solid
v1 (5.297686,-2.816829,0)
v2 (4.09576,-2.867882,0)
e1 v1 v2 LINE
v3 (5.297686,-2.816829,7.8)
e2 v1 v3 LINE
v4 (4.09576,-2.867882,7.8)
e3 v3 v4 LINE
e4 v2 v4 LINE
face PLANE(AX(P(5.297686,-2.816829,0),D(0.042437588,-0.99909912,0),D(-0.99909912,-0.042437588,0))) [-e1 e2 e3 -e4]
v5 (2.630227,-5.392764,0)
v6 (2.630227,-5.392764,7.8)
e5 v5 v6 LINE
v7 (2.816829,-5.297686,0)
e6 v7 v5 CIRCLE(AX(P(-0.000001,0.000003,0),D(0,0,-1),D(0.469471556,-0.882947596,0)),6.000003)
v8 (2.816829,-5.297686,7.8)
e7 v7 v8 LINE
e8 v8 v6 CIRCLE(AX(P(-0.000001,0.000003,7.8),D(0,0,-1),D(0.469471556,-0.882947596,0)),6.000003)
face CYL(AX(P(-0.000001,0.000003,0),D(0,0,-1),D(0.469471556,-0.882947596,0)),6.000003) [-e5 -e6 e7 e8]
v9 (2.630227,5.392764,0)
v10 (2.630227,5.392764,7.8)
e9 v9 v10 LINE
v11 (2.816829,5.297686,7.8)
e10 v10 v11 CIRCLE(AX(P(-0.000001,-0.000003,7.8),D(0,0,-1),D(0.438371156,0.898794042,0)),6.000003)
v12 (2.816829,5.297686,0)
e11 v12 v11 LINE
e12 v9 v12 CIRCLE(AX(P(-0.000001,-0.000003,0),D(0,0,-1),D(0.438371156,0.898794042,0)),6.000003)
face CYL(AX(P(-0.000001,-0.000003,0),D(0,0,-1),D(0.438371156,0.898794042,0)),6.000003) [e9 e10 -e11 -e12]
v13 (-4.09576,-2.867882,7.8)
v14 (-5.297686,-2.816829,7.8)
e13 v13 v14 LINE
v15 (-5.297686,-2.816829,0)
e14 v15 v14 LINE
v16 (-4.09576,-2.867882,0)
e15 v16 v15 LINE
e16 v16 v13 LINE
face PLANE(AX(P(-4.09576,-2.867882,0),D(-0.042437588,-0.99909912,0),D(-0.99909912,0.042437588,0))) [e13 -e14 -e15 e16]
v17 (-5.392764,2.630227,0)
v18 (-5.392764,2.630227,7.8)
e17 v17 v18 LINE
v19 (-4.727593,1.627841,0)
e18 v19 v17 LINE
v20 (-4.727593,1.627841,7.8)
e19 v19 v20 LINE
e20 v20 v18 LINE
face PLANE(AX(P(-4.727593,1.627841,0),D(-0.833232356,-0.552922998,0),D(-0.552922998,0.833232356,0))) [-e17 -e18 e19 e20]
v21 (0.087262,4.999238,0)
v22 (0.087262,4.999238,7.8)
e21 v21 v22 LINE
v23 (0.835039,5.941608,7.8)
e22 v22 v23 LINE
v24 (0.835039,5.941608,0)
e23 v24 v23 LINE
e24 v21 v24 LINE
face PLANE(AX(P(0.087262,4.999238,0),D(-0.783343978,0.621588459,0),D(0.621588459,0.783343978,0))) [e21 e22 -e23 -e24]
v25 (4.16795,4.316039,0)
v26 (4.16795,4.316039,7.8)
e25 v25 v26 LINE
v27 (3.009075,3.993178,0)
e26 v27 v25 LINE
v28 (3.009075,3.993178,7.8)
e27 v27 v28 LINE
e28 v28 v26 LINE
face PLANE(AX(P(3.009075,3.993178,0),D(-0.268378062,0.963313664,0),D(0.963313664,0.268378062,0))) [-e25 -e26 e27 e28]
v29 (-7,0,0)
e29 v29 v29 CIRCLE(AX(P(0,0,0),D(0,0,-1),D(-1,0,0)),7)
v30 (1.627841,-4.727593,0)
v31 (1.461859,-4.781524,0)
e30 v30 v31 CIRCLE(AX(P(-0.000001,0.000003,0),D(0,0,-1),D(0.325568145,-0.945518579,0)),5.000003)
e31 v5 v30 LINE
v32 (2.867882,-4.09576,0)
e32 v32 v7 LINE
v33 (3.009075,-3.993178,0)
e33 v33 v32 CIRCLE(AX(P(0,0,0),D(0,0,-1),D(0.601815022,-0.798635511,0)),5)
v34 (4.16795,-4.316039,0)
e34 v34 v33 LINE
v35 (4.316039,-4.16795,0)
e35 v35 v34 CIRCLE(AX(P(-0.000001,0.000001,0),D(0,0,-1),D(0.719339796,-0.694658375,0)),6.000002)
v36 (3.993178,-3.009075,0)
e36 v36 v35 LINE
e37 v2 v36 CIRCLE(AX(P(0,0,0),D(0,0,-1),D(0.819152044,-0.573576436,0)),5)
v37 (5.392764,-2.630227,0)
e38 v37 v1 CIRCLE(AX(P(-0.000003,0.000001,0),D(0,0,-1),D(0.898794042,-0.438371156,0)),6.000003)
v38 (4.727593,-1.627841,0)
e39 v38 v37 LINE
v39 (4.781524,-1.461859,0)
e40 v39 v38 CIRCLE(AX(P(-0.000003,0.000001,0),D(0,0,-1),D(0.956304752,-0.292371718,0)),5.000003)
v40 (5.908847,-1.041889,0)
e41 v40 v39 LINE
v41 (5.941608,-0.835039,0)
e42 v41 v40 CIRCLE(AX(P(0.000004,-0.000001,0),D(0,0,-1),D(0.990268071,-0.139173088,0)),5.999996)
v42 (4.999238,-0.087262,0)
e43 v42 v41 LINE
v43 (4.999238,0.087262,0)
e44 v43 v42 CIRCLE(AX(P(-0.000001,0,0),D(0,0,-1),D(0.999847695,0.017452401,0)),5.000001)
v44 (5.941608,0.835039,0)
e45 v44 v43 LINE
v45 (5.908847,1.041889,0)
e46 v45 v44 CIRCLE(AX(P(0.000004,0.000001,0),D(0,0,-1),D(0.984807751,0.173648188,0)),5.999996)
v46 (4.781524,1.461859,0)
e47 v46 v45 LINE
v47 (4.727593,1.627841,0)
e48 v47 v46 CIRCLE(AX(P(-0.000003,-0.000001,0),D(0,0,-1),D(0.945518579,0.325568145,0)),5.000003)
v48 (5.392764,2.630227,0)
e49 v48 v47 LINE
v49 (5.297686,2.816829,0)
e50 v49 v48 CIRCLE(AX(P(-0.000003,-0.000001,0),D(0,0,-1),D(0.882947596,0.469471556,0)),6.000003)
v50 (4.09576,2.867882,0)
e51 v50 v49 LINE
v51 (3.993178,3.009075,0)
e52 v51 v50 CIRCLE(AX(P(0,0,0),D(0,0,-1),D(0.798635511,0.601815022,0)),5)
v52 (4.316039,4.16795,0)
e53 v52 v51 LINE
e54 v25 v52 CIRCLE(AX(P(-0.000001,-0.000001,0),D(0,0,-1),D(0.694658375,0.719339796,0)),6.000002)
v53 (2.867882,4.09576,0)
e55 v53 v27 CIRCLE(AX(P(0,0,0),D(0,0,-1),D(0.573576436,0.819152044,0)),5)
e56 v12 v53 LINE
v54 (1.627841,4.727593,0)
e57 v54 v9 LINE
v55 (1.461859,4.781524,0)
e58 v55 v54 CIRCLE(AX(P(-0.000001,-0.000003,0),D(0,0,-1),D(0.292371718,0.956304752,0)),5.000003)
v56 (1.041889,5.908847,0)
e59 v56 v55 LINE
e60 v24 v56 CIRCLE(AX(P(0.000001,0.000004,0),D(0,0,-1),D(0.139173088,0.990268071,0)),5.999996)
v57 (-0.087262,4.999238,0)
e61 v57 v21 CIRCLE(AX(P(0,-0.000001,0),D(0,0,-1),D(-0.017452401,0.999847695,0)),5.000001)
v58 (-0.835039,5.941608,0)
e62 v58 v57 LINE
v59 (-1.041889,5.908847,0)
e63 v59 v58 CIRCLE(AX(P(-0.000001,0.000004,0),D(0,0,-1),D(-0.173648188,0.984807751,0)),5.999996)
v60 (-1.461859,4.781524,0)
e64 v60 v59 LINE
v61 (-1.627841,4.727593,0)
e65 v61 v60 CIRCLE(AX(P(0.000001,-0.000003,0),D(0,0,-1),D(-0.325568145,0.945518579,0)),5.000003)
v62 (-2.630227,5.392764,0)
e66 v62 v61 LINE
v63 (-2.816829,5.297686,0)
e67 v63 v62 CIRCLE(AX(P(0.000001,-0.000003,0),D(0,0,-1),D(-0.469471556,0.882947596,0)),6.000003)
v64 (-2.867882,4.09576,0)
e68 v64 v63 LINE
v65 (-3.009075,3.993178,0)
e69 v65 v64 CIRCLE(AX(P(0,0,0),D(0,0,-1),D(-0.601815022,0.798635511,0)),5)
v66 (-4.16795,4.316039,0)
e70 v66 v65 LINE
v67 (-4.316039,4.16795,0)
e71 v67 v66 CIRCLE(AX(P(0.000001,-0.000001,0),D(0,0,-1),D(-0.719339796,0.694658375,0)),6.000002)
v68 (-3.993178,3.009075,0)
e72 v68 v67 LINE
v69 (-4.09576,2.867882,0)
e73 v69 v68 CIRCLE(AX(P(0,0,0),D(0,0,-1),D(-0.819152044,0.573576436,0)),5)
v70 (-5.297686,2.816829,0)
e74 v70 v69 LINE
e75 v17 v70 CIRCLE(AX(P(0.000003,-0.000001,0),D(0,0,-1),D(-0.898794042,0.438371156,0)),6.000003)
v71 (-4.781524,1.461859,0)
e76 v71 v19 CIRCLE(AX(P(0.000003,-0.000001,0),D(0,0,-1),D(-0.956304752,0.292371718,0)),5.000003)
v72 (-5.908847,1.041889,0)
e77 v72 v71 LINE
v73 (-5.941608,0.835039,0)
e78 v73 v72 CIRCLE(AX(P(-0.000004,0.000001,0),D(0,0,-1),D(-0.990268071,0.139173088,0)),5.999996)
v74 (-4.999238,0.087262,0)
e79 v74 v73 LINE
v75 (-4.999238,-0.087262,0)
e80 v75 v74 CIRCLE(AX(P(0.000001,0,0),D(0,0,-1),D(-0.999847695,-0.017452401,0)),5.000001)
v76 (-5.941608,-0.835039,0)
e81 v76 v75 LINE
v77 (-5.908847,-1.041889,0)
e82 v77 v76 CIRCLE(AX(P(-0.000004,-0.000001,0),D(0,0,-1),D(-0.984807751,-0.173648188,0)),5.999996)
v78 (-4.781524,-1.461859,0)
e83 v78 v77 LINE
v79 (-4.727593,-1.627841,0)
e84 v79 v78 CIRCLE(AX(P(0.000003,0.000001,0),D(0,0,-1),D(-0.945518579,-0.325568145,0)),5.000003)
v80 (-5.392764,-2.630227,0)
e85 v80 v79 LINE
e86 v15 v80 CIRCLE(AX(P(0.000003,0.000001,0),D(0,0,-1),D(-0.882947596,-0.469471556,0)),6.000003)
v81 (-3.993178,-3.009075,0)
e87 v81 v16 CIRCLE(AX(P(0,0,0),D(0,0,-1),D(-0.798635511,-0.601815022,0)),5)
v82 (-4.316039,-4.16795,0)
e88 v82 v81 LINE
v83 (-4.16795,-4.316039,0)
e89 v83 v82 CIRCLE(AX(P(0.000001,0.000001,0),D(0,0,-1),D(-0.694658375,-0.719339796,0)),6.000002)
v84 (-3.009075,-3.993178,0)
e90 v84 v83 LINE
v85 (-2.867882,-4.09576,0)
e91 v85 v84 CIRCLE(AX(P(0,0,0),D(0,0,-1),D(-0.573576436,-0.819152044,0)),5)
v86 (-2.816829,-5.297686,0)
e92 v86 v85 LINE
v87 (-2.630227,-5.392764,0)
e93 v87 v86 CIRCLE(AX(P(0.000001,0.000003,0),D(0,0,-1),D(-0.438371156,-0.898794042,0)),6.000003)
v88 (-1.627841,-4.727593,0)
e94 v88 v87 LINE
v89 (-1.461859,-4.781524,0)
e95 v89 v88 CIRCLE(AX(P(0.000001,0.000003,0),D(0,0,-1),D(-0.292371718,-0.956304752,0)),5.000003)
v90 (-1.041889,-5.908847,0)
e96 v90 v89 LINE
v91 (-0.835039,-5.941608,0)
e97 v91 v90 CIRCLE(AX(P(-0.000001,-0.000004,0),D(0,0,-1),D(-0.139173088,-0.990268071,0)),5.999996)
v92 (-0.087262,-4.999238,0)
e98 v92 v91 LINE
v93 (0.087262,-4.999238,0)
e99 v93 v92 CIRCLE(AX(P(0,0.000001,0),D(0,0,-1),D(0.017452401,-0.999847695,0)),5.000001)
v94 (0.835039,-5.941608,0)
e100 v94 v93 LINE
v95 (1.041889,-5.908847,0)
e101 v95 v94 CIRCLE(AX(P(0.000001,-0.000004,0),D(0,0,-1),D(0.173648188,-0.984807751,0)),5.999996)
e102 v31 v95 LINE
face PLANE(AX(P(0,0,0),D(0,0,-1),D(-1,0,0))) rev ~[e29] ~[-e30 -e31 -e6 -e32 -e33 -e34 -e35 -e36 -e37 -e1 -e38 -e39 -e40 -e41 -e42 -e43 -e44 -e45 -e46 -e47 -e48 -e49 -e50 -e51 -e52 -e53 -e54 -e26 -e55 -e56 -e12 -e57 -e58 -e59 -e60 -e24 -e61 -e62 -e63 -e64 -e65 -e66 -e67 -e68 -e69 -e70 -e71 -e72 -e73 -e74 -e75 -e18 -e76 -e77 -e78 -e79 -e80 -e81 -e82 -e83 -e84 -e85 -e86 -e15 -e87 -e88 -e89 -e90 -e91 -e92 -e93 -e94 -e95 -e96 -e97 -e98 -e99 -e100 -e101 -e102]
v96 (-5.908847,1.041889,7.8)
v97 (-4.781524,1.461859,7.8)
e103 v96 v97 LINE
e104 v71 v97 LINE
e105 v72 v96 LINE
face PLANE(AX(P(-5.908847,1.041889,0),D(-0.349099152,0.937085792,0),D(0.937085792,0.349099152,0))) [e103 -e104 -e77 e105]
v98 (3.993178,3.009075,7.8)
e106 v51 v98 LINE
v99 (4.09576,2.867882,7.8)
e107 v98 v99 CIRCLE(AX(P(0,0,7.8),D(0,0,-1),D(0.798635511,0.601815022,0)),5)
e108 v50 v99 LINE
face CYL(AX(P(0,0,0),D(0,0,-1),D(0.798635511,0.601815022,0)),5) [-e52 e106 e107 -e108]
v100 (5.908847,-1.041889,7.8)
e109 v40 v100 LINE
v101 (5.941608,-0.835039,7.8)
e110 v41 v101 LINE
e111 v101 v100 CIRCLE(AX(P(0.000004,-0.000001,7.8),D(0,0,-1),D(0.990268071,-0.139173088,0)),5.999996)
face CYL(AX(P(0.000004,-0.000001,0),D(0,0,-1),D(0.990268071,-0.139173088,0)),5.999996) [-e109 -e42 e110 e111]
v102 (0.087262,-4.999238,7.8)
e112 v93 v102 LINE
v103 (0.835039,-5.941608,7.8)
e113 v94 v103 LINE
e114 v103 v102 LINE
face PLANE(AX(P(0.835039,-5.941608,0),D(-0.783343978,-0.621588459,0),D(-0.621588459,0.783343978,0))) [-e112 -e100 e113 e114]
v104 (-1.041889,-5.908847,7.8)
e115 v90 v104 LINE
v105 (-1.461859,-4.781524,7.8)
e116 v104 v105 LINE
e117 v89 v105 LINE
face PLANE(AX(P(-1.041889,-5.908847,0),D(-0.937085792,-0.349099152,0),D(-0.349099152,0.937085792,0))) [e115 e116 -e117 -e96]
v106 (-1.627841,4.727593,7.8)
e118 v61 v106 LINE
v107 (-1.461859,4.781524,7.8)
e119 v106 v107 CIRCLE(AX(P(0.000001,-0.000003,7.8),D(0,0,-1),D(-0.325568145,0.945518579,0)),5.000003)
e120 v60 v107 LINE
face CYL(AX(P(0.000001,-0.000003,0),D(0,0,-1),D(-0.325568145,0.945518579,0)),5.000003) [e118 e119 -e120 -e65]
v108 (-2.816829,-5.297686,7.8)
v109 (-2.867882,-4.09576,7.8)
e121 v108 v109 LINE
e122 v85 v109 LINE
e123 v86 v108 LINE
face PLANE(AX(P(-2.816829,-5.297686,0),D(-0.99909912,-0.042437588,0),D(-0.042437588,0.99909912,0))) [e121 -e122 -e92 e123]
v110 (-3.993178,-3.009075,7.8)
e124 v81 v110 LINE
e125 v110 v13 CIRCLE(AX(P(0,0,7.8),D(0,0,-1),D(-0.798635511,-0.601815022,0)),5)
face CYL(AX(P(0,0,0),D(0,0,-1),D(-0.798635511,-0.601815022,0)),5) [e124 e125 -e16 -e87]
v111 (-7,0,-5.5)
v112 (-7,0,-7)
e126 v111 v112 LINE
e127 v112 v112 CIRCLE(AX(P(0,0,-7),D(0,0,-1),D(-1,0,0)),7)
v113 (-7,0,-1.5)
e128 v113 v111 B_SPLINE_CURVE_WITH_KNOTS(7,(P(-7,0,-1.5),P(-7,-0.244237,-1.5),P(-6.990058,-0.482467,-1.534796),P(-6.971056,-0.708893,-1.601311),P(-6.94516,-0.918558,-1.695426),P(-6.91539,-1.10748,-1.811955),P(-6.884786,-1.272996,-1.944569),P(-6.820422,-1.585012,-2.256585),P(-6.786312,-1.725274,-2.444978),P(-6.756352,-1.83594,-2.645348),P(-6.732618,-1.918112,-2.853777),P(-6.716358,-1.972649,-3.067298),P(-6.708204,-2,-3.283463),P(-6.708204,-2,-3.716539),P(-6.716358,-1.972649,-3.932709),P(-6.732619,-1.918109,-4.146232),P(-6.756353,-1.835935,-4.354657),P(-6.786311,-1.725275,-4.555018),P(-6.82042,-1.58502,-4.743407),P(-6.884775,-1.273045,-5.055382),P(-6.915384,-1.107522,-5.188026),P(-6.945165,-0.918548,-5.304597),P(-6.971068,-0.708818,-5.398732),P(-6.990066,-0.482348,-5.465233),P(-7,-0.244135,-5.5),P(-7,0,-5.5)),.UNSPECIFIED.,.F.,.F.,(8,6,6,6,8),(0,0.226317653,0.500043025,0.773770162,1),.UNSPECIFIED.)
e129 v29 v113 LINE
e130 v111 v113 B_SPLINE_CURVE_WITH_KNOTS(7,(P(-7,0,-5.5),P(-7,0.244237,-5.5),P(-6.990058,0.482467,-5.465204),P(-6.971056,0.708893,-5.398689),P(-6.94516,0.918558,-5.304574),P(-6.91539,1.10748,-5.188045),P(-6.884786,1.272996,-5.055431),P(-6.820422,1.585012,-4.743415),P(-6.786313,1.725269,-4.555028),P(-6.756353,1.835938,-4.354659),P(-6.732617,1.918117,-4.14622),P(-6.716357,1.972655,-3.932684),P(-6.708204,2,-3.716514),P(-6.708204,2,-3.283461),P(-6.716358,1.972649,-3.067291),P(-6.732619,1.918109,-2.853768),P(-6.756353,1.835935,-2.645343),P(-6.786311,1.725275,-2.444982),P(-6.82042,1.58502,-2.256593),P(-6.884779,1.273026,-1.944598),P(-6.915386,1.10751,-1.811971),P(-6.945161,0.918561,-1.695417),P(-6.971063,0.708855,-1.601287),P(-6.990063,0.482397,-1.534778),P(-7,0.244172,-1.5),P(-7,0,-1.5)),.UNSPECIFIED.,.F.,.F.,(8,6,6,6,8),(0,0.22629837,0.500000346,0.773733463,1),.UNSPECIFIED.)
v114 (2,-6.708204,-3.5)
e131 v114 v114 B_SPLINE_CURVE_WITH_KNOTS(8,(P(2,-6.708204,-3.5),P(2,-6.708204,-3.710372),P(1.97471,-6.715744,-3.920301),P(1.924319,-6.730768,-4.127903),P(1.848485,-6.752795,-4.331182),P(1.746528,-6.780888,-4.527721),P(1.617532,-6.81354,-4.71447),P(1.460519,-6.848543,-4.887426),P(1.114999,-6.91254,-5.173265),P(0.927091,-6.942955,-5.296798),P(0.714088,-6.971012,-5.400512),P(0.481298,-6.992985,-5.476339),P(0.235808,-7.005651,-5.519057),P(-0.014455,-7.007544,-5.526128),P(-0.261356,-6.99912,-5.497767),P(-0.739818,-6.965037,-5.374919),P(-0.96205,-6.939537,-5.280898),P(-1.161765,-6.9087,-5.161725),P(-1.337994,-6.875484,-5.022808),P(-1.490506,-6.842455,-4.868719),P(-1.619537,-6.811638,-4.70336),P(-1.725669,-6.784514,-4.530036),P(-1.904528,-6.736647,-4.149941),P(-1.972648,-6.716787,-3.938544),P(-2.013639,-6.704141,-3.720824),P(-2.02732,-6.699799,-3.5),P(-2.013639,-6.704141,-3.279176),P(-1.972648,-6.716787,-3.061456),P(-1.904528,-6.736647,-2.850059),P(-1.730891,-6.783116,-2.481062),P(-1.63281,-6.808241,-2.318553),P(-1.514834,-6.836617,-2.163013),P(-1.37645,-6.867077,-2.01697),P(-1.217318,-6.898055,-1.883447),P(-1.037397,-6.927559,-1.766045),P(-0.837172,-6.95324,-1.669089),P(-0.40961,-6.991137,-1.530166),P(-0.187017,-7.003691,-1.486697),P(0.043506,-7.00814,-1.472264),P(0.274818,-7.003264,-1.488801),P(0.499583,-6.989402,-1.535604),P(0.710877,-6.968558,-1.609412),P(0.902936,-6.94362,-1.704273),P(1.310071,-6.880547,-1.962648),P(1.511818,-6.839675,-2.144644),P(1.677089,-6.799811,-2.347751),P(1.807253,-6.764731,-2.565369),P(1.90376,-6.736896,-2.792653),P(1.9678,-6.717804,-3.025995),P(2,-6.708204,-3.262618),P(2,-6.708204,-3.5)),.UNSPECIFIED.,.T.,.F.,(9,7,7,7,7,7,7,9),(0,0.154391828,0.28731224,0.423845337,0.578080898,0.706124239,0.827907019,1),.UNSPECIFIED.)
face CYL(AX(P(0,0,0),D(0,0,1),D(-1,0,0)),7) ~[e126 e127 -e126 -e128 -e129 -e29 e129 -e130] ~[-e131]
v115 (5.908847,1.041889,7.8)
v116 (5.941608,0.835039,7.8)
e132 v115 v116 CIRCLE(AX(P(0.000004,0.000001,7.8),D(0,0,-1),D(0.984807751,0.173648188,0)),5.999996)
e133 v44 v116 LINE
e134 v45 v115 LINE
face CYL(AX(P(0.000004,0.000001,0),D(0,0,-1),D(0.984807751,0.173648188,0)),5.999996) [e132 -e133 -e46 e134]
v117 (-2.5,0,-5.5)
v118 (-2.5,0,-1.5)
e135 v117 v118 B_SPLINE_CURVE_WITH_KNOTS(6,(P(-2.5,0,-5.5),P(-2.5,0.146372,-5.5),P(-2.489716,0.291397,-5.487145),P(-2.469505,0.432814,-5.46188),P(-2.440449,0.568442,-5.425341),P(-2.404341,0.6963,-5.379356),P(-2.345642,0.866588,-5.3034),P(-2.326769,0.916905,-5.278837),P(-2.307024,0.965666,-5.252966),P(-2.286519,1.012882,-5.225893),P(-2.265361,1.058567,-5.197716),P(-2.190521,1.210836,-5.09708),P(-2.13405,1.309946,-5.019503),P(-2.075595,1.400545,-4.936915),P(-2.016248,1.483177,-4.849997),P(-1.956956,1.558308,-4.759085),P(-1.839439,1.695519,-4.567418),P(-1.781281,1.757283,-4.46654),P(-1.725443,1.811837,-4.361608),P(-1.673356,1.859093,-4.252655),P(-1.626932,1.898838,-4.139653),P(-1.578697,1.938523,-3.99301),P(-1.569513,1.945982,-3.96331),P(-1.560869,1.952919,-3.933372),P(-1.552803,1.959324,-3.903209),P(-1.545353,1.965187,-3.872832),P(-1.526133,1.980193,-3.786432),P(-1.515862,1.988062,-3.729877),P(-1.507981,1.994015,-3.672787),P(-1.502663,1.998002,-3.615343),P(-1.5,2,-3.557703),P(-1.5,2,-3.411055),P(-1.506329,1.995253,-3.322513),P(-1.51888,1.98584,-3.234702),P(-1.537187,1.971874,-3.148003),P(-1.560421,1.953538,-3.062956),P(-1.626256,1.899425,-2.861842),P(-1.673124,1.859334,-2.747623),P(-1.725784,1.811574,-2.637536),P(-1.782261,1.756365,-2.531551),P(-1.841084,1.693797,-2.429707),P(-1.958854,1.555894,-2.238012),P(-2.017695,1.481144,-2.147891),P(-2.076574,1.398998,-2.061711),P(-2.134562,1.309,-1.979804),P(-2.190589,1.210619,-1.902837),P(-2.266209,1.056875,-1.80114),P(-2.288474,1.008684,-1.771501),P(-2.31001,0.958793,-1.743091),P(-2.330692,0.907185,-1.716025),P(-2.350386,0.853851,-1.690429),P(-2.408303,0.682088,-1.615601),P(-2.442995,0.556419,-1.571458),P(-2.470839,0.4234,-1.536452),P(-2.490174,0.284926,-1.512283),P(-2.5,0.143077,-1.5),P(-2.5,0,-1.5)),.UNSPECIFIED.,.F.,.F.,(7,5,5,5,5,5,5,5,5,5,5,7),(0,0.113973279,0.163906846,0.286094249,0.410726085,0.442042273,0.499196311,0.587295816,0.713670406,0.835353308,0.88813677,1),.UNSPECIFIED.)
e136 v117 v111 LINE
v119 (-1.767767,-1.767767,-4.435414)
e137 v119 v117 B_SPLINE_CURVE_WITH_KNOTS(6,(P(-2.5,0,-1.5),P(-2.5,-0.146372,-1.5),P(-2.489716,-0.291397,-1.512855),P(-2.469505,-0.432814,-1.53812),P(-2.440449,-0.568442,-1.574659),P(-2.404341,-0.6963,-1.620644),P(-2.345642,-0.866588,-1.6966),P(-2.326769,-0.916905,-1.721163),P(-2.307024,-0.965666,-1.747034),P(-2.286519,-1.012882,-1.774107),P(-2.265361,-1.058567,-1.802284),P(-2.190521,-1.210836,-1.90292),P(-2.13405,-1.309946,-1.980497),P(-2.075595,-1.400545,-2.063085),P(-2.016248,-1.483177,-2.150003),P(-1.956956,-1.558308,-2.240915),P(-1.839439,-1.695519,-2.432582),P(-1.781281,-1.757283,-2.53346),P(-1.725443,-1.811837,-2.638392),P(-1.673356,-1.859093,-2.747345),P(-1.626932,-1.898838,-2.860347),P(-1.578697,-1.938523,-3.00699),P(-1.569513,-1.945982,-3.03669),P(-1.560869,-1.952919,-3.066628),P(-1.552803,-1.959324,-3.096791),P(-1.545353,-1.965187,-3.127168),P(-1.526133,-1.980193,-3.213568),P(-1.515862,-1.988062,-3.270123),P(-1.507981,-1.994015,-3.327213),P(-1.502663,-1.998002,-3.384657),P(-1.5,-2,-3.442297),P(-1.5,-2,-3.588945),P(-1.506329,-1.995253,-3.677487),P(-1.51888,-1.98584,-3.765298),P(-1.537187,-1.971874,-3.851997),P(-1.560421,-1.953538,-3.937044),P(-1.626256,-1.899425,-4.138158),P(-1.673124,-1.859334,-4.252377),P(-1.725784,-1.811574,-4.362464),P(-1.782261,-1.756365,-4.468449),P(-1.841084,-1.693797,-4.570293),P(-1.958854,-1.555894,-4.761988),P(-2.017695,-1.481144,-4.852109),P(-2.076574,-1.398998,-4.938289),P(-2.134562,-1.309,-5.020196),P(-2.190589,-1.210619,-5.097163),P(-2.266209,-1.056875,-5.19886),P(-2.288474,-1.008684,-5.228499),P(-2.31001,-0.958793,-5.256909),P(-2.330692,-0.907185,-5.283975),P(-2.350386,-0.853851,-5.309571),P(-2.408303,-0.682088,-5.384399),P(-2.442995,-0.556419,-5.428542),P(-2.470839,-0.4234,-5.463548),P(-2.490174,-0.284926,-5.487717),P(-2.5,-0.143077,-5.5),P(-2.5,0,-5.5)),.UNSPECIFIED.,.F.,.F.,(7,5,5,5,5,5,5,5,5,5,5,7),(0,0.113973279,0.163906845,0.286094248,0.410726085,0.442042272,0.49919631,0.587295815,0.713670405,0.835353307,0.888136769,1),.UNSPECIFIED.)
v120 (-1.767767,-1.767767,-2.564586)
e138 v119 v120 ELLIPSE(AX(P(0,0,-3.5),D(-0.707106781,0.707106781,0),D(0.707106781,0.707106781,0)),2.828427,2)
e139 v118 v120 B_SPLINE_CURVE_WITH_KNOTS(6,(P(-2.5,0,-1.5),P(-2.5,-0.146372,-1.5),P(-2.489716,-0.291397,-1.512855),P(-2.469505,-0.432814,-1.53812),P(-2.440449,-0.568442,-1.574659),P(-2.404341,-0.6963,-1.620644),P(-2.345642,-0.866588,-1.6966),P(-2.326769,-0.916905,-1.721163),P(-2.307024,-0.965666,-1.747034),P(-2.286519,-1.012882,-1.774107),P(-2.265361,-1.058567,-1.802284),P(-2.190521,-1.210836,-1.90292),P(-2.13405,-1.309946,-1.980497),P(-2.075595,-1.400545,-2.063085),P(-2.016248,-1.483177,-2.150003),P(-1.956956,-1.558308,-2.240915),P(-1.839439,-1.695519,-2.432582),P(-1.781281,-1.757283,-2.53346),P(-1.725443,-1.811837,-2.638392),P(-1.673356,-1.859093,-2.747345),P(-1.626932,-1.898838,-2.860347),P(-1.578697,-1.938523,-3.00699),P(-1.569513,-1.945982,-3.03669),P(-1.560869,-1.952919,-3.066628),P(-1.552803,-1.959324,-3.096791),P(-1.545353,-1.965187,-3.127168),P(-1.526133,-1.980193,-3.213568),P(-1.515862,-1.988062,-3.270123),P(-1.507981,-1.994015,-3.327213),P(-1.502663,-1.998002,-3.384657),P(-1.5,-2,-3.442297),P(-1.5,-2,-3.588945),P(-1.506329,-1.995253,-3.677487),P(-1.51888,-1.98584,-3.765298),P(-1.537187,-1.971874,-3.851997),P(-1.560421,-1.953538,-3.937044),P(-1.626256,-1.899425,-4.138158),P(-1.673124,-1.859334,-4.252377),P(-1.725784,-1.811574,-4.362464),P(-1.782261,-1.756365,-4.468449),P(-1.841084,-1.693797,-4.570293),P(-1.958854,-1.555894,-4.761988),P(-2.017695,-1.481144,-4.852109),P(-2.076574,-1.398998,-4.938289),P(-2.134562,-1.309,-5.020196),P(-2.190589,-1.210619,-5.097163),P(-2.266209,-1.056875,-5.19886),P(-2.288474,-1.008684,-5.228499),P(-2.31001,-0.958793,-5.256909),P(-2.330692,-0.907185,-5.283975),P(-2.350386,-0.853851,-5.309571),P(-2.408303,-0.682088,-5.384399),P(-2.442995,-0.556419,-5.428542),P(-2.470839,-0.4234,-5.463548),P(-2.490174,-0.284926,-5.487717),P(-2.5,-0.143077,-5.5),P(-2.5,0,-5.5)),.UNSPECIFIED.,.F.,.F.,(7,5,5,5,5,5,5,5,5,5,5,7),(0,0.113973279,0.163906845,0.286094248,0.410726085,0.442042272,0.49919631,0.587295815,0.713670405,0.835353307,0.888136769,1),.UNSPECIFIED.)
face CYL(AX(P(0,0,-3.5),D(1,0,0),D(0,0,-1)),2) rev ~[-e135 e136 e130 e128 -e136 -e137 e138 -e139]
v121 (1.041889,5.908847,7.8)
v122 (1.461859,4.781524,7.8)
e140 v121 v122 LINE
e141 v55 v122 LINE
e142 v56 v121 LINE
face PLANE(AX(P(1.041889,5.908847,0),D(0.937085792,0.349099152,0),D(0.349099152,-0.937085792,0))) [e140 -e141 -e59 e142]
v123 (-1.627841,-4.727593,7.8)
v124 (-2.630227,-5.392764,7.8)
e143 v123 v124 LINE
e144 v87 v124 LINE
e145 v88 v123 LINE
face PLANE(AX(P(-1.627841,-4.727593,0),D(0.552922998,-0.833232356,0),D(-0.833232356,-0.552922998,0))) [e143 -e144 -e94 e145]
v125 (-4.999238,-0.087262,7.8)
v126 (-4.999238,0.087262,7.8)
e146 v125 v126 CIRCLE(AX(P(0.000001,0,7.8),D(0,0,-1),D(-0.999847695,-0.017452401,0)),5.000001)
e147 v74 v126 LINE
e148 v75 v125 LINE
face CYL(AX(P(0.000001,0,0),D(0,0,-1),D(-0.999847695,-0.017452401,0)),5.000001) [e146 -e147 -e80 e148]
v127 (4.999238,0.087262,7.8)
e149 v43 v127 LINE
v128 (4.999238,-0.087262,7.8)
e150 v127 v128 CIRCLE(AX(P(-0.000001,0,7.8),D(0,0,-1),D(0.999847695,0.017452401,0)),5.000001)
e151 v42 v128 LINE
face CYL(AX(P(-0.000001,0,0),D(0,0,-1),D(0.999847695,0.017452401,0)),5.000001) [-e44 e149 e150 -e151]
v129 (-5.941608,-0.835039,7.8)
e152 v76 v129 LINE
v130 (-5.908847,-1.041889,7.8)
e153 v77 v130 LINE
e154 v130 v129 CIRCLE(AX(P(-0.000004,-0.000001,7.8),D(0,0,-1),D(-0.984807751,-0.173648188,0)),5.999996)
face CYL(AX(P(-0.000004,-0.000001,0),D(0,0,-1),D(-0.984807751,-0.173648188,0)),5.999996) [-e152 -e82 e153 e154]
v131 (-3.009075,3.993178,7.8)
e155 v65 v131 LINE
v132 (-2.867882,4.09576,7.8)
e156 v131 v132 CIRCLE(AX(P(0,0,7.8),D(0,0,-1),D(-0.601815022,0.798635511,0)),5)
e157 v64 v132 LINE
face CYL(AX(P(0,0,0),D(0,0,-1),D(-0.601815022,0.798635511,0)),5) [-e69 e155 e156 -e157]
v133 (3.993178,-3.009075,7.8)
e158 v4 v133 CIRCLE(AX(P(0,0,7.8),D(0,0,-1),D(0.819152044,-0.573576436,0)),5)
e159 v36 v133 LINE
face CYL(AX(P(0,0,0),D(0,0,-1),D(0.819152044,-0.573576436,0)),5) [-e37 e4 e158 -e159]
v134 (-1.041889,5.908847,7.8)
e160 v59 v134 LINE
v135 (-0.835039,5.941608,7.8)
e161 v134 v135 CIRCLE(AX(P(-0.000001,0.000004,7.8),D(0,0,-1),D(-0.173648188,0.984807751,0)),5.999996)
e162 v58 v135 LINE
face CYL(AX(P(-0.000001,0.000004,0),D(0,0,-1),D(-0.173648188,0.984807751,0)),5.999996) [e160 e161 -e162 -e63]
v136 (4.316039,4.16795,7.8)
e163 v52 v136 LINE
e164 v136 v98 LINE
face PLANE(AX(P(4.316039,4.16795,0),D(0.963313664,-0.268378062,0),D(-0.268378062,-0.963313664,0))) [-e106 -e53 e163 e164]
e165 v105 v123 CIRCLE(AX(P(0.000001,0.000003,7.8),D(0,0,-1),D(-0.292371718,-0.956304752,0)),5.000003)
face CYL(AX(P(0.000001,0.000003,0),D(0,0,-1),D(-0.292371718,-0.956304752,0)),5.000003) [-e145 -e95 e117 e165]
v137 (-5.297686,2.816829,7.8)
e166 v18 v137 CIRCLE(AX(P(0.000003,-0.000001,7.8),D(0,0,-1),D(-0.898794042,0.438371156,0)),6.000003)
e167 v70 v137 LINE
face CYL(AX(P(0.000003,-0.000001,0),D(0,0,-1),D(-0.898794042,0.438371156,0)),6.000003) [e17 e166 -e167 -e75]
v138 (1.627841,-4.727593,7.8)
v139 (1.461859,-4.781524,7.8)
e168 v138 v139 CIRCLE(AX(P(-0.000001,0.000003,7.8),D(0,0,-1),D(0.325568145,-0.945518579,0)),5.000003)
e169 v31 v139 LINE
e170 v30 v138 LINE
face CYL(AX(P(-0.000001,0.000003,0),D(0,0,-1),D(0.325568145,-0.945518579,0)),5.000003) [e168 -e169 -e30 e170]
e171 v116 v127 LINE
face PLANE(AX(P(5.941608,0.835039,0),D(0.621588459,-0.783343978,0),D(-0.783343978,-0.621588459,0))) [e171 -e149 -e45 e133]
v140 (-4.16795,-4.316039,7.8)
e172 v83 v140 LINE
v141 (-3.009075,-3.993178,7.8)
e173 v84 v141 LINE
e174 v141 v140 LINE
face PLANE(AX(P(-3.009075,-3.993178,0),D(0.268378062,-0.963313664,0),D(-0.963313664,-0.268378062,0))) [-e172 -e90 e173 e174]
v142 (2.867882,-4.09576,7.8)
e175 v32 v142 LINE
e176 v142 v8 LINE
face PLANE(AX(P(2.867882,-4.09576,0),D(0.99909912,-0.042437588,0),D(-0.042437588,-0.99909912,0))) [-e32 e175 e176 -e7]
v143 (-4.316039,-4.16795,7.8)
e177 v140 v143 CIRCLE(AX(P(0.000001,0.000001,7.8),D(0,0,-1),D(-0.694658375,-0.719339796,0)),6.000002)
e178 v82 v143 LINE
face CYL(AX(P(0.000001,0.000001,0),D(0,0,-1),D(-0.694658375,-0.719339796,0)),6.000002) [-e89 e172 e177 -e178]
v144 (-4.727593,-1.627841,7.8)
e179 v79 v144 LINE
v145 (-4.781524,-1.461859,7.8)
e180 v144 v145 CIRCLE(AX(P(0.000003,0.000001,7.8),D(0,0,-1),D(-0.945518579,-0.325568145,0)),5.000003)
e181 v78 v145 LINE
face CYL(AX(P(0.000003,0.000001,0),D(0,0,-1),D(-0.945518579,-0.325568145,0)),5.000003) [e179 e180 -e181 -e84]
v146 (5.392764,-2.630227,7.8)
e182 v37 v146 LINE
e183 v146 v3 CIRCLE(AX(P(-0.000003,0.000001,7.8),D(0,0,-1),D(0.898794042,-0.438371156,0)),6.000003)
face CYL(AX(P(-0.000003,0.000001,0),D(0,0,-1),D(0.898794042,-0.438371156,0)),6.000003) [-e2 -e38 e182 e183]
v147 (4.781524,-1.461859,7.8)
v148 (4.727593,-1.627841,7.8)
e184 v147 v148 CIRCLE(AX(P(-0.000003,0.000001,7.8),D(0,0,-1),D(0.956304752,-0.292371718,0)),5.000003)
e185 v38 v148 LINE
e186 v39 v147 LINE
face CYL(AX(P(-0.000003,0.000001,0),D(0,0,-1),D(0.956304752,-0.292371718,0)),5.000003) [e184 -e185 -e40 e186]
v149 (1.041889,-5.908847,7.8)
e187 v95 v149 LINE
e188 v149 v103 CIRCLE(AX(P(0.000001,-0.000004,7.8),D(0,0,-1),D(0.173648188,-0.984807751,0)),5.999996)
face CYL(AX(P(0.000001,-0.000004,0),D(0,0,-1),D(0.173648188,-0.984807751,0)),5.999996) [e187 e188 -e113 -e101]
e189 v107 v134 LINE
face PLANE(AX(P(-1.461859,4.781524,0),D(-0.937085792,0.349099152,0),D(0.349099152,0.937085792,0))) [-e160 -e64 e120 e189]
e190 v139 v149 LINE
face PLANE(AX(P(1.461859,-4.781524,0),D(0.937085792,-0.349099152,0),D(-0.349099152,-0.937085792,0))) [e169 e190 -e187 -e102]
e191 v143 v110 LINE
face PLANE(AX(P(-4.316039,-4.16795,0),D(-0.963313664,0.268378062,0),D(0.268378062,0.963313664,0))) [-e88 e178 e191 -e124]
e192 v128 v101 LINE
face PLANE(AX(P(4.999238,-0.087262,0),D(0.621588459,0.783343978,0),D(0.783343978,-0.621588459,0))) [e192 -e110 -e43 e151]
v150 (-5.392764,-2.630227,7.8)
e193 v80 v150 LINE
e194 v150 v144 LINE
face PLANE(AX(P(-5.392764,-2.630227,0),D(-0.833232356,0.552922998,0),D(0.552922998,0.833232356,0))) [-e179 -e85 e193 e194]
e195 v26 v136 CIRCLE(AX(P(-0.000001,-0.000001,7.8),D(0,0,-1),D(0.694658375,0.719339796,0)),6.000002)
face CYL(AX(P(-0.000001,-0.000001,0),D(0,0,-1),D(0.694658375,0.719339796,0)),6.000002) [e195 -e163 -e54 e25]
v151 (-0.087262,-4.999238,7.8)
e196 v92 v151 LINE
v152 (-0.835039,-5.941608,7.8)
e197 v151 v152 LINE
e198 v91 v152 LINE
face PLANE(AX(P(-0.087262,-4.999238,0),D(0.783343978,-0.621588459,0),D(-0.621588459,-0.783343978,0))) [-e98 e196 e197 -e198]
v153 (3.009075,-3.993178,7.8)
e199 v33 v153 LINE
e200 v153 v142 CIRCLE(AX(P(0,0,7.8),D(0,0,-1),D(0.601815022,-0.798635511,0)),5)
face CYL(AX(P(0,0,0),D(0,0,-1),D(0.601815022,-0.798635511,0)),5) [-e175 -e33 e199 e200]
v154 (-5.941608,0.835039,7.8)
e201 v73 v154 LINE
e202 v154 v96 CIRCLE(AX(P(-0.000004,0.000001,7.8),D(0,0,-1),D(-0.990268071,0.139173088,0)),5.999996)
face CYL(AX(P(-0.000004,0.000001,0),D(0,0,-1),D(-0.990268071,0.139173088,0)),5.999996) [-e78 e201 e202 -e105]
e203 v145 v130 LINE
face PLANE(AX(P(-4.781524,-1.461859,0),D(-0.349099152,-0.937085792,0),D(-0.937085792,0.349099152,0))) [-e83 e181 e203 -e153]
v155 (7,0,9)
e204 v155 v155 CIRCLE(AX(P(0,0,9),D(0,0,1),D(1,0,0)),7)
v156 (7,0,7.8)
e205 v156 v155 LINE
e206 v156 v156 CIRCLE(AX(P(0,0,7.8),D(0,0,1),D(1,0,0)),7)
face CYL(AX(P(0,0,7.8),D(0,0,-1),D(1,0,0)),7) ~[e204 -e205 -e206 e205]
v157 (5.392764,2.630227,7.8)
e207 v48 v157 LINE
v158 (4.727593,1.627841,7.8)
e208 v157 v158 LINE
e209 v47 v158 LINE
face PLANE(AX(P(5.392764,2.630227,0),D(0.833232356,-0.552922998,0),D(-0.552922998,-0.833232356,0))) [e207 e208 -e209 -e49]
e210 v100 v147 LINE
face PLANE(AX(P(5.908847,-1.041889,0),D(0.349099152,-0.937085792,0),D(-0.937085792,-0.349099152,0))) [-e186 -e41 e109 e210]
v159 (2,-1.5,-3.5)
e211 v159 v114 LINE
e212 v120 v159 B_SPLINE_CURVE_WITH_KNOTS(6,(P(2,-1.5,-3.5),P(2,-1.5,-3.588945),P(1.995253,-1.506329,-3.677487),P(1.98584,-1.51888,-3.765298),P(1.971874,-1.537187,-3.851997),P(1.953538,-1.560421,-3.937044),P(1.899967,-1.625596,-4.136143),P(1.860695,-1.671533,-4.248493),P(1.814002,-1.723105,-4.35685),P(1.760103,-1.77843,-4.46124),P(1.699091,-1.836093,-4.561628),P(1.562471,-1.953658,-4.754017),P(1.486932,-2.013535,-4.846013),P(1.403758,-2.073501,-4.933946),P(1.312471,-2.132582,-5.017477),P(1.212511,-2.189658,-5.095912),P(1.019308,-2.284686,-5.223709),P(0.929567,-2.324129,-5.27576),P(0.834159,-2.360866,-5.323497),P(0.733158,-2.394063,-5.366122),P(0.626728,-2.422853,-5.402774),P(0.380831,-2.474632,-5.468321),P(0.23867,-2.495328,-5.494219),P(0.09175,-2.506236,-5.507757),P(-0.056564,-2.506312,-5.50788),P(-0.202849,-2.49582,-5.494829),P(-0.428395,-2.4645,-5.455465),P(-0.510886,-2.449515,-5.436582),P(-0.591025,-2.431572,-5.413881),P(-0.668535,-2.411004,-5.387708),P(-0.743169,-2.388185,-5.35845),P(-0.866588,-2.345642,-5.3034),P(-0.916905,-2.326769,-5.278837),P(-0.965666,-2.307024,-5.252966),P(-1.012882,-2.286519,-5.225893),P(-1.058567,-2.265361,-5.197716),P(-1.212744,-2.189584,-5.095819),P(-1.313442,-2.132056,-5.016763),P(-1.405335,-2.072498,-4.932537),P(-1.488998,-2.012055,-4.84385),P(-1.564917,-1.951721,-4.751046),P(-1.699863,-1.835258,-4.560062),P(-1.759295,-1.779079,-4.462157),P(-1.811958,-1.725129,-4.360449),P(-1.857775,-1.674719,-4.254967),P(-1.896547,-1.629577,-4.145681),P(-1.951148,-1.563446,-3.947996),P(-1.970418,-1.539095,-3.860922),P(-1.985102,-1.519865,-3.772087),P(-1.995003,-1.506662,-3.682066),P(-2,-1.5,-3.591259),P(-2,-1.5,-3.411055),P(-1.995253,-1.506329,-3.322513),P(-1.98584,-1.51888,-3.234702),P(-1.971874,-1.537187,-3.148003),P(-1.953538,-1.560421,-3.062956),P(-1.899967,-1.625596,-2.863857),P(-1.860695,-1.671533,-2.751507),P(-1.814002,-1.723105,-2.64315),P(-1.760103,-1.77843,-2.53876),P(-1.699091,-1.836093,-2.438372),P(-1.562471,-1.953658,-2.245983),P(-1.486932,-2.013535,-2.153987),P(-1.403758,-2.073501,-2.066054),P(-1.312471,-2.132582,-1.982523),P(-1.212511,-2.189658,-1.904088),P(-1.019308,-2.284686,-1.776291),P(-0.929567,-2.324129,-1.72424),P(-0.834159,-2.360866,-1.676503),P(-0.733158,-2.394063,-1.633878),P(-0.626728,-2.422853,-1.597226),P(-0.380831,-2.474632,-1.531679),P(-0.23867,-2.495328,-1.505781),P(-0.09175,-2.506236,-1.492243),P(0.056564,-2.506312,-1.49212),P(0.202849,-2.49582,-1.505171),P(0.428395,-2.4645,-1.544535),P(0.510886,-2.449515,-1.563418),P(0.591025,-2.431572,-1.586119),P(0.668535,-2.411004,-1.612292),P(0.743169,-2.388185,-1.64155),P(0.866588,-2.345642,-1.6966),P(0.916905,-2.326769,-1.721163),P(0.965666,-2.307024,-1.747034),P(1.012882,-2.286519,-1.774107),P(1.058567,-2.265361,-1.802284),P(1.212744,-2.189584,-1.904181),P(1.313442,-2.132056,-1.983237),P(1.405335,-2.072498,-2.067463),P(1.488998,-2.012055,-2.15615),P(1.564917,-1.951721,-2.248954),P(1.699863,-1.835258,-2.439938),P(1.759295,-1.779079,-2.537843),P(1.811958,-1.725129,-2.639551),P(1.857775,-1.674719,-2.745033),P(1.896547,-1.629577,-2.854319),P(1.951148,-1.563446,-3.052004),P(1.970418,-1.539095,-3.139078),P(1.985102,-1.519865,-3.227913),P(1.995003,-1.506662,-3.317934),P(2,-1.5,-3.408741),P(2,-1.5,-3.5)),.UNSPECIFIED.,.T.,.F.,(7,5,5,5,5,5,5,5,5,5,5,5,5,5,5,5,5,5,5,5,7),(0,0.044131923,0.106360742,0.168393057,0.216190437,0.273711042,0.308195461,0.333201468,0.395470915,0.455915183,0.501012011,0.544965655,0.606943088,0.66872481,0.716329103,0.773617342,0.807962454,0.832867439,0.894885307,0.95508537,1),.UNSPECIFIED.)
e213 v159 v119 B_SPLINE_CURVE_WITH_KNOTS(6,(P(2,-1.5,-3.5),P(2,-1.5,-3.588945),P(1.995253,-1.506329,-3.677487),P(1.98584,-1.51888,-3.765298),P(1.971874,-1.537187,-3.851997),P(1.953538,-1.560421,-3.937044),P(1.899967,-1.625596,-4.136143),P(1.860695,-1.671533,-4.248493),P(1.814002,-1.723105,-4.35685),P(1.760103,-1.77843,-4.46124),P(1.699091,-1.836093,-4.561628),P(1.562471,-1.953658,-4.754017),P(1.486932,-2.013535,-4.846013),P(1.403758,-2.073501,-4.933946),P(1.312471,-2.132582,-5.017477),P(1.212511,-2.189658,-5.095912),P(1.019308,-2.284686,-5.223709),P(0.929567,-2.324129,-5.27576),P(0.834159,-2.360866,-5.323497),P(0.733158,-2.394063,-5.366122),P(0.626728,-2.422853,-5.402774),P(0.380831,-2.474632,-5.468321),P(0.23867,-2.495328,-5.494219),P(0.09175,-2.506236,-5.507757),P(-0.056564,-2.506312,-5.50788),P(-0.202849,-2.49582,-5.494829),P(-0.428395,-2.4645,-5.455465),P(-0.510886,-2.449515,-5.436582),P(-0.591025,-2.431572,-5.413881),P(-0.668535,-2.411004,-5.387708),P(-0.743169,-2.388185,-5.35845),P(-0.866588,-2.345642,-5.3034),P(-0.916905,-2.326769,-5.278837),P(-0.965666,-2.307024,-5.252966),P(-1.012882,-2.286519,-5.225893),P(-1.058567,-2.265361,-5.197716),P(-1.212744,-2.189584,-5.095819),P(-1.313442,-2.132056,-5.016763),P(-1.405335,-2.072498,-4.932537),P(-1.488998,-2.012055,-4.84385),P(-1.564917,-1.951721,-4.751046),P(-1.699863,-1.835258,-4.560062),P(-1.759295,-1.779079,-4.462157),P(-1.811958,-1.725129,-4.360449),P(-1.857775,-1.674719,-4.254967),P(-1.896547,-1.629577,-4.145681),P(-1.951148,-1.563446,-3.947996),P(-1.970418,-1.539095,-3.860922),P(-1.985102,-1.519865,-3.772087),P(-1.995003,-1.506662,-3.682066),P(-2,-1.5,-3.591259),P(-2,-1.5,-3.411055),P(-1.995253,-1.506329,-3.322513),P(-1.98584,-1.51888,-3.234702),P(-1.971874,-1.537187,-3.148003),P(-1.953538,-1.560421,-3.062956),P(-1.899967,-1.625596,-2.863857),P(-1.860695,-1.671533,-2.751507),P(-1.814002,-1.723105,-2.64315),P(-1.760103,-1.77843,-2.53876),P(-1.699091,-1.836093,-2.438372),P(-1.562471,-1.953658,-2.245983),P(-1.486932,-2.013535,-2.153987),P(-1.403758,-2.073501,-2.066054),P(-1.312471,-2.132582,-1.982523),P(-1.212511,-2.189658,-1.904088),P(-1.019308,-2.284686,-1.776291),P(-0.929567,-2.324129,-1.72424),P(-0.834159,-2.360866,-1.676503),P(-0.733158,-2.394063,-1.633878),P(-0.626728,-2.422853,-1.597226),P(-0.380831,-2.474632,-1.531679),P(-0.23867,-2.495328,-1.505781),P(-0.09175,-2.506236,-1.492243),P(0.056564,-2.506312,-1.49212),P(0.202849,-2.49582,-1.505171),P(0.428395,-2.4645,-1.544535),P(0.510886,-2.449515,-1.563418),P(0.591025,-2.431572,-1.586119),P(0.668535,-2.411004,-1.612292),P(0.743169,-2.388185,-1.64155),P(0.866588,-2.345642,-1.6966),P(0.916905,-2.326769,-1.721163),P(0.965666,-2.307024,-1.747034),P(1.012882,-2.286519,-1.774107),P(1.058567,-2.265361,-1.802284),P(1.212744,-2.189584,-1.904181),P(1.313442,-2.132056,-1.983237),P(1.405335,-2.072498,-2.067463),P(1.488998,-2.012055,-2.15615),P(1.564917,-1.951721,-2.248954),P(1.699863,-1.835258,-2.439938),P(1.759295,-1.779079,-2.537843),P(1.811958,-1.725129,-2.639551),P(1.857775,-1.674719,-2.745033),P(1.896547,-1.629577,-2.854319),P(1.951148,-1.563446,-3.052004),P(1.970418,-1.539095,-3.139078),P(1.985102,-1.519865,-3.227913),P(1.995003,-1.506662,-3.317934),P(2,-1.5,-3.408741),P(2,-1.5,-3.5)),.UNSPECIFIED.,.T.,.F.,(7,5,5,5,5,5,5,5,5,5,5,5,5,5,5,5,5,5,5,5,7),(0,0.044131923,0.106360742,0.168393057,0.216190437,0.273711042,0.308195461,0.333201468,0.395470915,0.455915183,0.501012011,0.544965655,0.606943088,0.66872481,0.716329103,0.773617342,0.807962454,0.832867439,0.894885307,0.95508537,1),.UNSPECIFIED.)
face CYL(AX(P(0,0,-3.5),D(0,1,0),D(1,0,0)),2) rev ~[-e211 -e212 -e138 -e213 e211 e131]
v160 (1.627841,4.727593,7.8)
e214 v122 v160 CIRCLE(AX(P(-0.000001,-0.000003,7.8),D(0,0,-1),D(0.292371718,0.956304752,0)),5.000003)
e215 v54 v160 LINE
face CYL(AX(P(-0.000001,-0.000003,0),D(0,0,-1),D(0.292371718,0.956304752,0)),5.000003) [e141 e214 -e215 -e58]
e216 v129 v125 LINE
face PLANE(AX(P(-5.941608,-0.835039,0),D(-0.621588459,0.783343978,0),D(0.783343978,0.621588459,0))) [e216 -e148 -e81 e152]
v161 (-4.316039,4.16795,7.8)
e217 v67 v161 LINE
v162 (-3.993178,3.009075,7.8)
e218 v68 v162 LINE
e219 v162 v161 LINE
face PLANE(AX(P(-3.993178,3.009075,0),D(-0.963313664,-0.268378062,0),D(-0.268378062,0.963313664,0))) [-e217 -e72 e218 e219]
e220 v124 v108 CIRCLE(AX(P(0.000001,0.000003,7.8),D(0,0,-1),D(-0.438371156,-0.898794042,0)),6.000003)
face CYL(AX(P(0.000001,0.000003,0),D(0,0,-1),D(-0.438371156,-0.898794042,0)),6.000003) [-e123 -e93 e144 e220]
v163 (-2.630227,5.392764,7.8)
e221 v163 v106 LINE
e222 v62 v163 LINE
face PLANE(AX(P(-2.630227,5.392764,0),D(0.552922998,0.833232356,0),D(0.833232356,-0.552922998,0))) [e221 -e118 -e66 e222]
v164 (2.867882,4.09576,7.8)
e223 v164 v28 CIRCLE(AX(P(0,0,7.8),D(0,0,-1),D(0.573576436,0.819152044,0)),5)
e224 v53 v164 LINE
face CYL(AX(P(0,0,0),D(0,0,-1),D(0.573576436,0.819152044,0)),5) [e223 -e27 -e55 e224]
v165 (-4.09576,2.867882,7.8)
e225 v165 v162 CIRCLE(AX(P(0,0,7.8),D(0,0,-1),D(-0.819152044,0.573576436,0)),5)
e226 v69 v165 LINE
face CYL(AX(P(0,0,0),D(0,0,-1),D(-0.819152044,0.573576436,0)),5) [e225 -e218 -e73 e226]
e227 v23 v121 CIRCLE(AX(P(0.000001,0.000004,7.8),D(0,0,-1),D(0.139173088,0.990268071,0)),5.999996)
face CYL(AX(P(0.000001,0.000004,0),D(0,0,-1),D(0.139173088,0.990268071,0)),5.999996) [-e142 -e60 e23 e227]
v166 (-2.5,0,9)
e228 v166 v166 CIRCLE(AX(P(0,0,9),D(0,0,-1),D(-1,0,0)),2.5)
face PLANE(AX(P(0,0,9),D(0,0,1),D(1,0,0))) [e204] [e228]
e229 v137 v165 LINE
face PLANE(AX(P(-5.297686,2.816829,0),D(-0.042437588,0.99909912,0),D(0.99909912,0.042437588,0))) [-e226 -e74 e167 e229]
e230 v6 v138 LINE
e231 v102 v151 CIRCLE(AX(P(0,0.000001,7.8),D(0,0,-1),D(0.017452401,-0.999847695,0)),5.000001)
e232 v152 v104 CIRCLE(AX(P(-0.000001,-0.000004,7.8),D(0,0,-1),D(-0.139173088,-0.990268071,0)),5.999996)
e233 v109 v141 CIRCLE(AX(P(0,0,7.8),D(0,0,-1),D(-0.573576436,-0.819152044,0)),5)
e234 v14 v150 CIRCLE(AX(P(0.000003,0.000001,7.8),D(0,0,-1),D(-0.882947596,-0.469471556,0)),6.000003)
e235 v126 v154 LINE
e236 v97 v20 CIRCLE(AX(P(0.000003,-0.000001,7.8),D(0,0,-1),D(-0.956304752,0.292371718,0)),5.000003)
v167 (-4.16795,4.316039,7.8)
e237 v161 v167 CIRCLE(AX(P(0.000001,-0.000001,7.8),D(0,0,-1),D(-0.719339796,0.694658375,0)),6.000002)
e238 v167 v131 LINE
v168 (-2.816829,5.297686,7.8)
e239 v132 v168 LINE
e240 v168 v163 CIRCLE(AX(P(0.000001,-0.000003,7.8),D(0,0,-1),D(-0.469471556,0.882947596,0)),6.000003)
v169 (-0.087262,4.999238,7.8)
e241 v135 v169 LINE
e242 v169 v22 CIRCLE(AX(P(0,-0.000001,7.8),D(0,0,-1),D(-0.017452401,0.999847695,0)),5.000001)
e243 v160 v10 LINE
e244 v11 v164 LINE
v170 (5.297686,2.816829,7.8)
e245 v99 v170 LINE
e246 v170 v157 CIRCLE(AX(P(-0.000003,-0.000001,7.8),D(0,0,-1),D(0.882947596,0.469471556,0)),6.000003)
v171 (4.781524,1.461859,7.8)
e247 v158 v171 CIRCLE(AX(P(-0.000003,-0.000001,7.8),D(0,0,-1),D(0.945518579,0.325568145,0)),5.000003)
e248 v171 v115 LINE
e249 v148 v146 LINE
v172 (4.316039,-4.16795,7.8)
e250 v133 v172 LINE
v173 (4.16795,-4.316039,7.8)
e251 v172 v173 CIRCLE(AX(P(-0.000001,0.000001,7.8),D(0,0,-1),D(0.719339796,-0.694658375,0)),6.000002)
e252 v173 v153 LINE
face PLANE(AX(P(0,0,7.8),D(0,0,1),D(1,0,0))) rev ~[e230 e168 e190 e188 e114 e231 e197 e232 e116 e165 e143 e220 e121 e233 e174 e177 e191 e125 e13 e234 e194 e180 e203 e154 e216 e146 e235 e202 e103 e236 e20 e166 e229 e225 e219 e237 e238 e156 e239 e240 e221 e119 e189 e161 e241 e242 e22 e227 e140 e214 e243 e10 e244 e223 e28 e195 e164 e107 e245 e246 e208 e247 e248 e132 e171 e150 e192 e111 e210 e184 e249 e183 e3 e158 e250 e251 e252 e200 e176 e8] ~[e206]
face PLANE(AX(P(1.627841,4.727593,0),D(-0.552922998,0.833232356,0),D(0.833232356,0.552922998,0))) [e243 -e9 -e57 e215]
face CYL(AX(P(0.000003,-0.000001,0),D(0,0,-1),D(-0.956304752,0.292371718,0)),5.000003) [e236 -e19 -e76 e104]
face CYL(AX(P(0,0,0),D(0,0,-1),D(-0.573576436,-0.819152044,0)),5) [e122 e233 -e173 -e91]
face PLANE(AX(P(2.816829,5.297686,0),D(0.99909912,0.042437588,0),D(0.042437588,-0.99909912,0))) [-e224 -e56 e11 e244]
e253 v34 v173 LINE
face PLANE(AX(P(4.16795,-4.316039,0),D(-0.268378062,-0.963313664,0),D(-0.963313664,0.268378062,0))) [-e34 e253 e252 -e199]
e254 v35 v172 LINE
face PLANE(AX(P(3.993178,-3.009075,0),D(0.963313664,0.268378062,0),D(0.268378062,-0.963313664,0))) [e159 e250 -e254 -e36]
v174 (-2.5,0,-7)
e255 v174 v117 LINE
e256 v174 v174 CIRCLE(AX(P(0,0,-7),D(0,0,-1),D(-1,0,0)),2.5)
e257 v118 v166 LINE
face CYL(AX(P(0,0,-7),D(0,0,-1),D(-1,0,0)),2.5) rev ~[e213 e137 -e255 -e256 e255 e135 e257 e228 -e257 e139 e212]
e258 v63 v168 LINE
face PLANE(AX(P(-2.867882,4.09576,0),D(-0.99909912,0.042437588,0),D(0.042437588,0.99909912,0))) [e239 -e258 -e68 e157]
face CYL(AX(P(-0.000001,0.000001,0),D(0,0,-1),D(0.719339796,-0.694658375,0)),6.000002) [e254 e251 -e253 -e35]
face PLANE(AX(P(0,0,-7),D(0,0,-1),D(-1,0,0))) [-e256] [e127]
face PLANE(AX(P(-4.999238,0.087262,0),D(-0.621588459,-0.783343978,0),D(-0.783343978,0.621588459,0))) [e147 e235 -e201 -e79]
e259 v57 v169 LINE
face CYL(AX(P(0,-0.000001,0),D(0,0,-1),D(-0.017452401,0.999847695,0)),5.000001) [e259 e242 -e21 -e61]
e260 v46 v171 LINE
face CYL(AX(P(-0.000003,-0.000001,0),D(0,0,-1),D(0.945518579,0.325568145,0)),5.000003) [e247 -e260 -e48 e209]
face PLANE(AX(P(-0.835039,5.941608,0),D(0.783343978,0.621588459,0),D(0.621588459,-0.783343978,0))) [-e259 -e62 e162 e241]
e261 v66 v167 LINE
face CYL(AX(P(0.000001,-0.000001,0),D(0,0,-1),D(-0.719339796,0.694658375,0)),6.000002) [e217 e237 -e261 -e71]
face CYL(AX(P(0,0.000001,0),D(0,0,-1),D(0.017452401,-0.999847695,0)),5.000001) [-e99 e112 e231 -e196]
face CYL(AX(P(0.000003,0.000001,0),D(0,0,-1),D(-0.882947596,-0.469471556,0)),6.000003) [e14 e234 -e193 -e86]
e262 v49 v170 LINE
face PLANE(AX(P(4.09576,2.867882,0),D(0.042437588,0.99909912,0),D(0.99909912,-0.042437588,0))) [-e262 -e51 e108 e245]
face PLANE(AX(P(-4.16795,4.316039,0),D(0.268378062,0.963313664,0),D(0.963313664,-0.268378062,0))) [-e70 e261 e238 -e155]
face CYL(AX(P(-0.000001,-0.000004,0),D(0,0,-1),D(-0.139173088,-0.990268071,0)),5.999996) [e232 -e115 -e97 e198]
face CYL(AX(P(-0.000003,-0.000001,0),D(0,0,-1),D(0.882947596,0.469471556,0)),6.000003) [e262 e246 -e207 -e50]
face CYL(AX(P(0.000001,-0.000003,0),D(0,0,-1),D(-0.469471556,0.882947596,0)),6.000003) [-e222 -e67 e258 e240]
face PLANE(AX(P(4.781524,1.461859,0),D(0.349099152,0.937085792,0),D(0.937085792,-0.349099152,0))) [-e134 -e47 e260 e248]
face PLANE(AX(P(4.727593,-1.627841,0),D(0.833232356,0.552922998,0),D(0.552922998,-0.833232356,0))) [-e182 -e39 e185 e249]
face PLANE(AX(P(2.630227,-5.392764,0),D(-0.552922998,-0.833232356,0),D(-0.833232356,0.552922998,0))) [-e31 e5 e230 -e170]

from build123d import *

# Parameters (mm, degrees)
EXTRUDE_1_DEPTH     = 7.8
SKETCH_2_R          = 7
EXTRUDE_2_DEPTH     = 1.2
SKETCH_3_R          = 7
EXTRUDE_3_DEPTH     = 7
SKETCH_4_R          = 2.5
CUT_EXTRUDE_1_DEPTH = 17
SKETCH_6_R          = 2
CUT_EXTRUDE_2_DEPTH = 8
SKETCH_7_R          = 2
CUT_EXTRUDE_3_DEPTH = 8.0000001


with BuildPart() as part:
    # 草图1 → 凸台-拉伸1 (new body)
    with BuildSketch(Plane.XY):
        with BuildLine():
            Line((4.999238476, -0.087262032), (5.941608412, -0.835038606))
            ThreePointArc((5.941608412, -0.835038606), (5.926130044, -0.93860679), (5.908846518, -1.041889066))
            Line((5.908846518, -1.041889066), (4.78152378, -1.461858524))
            ThreePointArc((4.78152378, -1.461858524), (4.755282581, -1.545084972), (4.727592878, -1.627840772))
            Line((4.727592878, -1.627840772), (5.392764278, -2.630226881))
            ThreePointArc((5.392764278, -2.630226881), (5.346039145, -2.723942998), (5.297685557, -2.816829377))
            Line((5.297685557, -2.816829377), (4.095760221, -2.867882182))
            ThreePointArc((4.095760221, -2.867882182), (4.045084972, -2.938926261), (3.99317755, -3.009075116))
            Line((3.99317755, -3.009075116), (4.316038802, -4.167950223))
            ThreePointArc((4.316038802, -4.167950223), (4.242640687, -4.242640687), (4.167950223, -4.316038802))
            Line((4.167950223, -4.316038802), (3.009075116, -3.99317755))
            ThreePointArc((3.009075116, -3.99317755), (2.938926261, -4.045084972), (2.867882182, -4.095760221))
            Line((2.867882182, -4.095760221), (2.816829377, -5.297685557))
            ThreePointArc((2.816829377, -5.297685557), (2.723942998, -5.346039145), (2.630226881, -5.392764278))
            Line((2.630226881, -5.392764278), (1.627840772, -4.727592878))
            ThreePointArc((1.627840772, -4.727592878), (1.545084972, -4.755282581), (1.461858524, -4.78152378))
            Line((1.461858524, -4.78152378), (1.041889066, -5.908846518))
            ThreePointArc((1.041889066, -5.908846518), (0.93860679, -5.926130044), (0.835038606, -5.941608412))
            Line((0.835038606, -5.941608412), (0.087262032, -4.999238476))
            ThreePointArc((0.087262032, -4.999238476), (0, -5), (-0.087262032, -4.999238476))
            Line((-0.087262032, -4.999238476), (-0.835038606, -5.941608412))
            ThreePointArc((-0.835038606, -5.941608412), (-0.93860679, -5.926130044), (-1.041889066, -5.908846518))
            Line((-1.041889066, -5.908846518), (-1.461858524, -4.78152378))
            ThreePointArc((-1.461858524, -4.78152378), (-1.545084972, -4.755282581), (-1.627840772, -4.727592878))
            Line((-1.627840772, -4.727592878), (-2.630226881, -5.392764278))
            ThreePointArc((-2.630226881, -5.392764278), (-2.723942998, -5.346039145), (-2.816829377, -5.297685557))
            Line((-2.816829377, -5.297685557), (-2.867882182, -4.095760221))
            ThreePointArc((-2.867882182, -4.095760221), (-2.938926261, -4.045084972), (-3.009075116, -3.99317755))
            Line((-3.009075116, -3.99317755), (-4.167950223, -4.316038802))
            ThreePointArc((-4.167950223, -4.316038802), (-4.242640687, -4.242640687), (-4.316038802, -4.167950223))
            Line((-4.316038802, -4.167950223), (-3.99317755, -3.009075116))
            ThreePointArc((-3.99317755, -3.009075116), (-4.045084972, -2.938926261), (-4.095760221, -2.867882182))
            Line((-4.095760221, -2.867882182), (-5.297685557, -2.816829377))
            ThreePointArc((-5.297685557, -2.816829377), (-5.346039145, -2.723942998), (-5.392764278, -2.630226881))
            Line((-5.392764278, -2.630226881), (-4.727592878, -1.627840772))
            ThreePointArc((-4.727592878, -1.627840772), (-4.755282581, -1.545084972), (-4.78152378, -1.461858524))
            Line((-4.78152378, -1.461858524), (-5.908846518, -1.041889066))
            ThreePointArc((-5.908846518, -1.041889066), (-5.926130044, -0.93860679), (-5.941608412, -0.835038606))
            Line((-5.941608412, -0.835038606), (-4.999238476, -0.087262032))
            ThreePointArc((-4.999238476, -0.087262032), (-5, 0), (-4.999238476, 0.087262032))
            Line((-4.999238476, 0.087262032), (-5.941608412, 0.835038606))
            ThreePointArc((-5.941608412, 0.835038606), (-5.926130044, 0.93860679), (-5.908846518, 1.041889066))
            Line((-5.908846518, 1.041889066), (-4.78152378, 1.461858524))
            ThreePointArc((-4.78152378, 1.461858524), (-4.755282581, 1.545084972), (-4.727592878, 1.627840772))
            Line((-4.727592878, 1.627840772), (-5.392764278, 2.630226881))
            ThreePointArc((-5.392764278, 2.630226881), (-5.346039145, 2.723942998), (-5.297685557, 2.816829377))
            Line((-5.297685557, 2.816829377), (-4.095760221, 2.867882182))
            ThreePointArc((-4.095760221, 2.867882182), (-4.045084972, 2.938926261), (-3.99317755, 3.009075116))
            Line((-3.99317755, 3.009075116), (-4.316038802, 4.167950223))
            ThreePointArc((-4.316038802, 4.167950223), (-4.242640687, 4.242640687), (-4.167950223, 4.316038802))
            Line((-4.167950223, 4.316038802), (-3.009075116, 3.99317755))
            ThreePointArc((-3.009075116, 3.99317755), (-2.938926261, 4.045084972), (-2.867882182, 4.095760221))
            Line((-2.867882182, 4.095760221), (-2.816829377, 5.297685557))
            ThreePointArc((-2.816829377, 5.297685557), (-2.723942998, 5.346039145), (-2.630226881, 5.392764278))
            Line((-2.630226881, 5.392764278), (-1.627840772, 4.727592878))
            ThreePointArc((-1.627840772, 4.727592878), (-1.545084972, 4.755282581), (-1.461858524, 4.78152378))
            Line((-1.461858524, 4.78152378), (-1.041889066, 5.908846518))
            ThreePointArc((-1.041889066, 5.908846518), (-0.93860679, 5.926130044), (-0.835038606, 5.941608412))
            Line((-0.835038606, 5.941608412), (-0.087262032, 4.999238476))
            ThreePointArc((-0.087262032, 4.999238476), (0, 5), (0.087262032, 4.999238476))
            Line((0.087262032, 4.999238476), (0.835038606, 5.941608412))
            ThreePointArc((0.835038606, 5.941608412), (0.93860679, 5.926130044), (1.041889066, 5.908846518))
            Line((1.041889066, 5.908846518), (1.461858524, 4.78152378))
            ThreePointArc((1.461858524, 4.78152378), (1.545084972, 4.755282581), (1.627840772, 4.727592878))
            Line((1.627840772, 4.727592878), (2.630226881, 5.392764278))
            ThreePointArc((2.630226881, 5.392764278), (2.723942998, 5.346039145), (2.816829377, 5.297685557))
            Line((2.816829377, 5.297685557), (2.867882182, 4.095760221))
            ThreePointArc((2.867882182, 4.095760221), (2.938926261, 4.045084972), (3.009075116, 3.99317755))
            Line((3.009075116, 3.99317755), (4.167950223, 4.316038802))
            ThreePointArc((4.167950223, 4.316038802), (4.242640687, 4.242640687), (4.316038802, 4.167950223))
            Line((4.316038802, 4.167950223), (3.99317755, 3.009075116))
            ThreePointArc((3.99317755, 3.009075116), (4.045084972, 2.938926261), (4.095760221, 2.867882182))
            Line((4.095760221, 2.867882182), (5.297685557, 2.816829377))
            ThreePointArc((5.297685557, 2.816829377), (5.346039145, 2.723942998), (5.392764278, 2.630226881))
            Line((5.392764278, 2.630226881), (4.727592878, 1.627840772))
            ThreePointArc((4.727592878, 1.627840772), (4.755282581, 1.545084972), (4.78152378, 1.461858524))
            Line((4.78152378, 1.461858524), (5.908846518, 1.041889066))
            ThreePointArc((5.908846518, 1.041889066), (5.926130044, 0.93860679), (5.941608412, 0.835038606))
            Line((5.941608412, 0.835038606), (4.999238476, 0.087262032))
            ThreePointArc((4.999238476, 0.087262032), (5, 0), (4.999238476, -0.087262032))
        make_face()
    extrude(amount=EXTRUDE_1_DEPTH)

    # 草图2 → 凸台-拉伸2 (add)
    with BuildSketch(Plane.XY.offset(7.8)):
        Circle(SKETCH_2_R)
    extrude(amount=EXTRUDE_2_DEPTH)

    # 草图3 → 凸台-拉伸3 (add)
    with BuildSketch(Plane(origin=(0, 0, 0), x_dir=(-1, 0, 0), z_dir=(0, 0, -1))):
        Circle(SKETCH_3_R)
    extrude(amount=EXTRUDE_3_DEPTH)

    # 草图4 → 切除-拉伸1 (cut, through all)
    with BuildSketch(Plane(origin=(0, 0, -7), x_dir=(-1, 0, 0), z_dir=(0, 0, -1))):
        Circle(SKETCH_4_R)
    extrude(amount=-CUT_EXTRUDE_1_DEPTH, mode=Mode.SUBTRACT)

    # 草图6 → 切除-拉伸2 (cut, through all)
    with BuildSketch(Plane(origin=(0, 0, 0), x_dir=(1, 0, 0), z_dir=(0, 1, 0))):
        with Locations((0, 3.5)):
            Circle(SKETCH_6_R)
    extrude(amount=-CUT_EXTRUDE_2_DEPTH, mode=Mode.SUBTRACT)

    # 草图7 → 切除-拉伸3 (cut, through all)
    with BuildSketch(Plane(origin=(0, 0, 0), x_dir=(0, 0, -1), z_dir=(1, 0, 0))):
        with Locations((3.5, 0)):
            Circle(SKETCH_7_R)
    extrude(amount=-CUT_EXTRUDE_3_DEPTH, mode=Mode.SUBTRACT)


solid = part.part
